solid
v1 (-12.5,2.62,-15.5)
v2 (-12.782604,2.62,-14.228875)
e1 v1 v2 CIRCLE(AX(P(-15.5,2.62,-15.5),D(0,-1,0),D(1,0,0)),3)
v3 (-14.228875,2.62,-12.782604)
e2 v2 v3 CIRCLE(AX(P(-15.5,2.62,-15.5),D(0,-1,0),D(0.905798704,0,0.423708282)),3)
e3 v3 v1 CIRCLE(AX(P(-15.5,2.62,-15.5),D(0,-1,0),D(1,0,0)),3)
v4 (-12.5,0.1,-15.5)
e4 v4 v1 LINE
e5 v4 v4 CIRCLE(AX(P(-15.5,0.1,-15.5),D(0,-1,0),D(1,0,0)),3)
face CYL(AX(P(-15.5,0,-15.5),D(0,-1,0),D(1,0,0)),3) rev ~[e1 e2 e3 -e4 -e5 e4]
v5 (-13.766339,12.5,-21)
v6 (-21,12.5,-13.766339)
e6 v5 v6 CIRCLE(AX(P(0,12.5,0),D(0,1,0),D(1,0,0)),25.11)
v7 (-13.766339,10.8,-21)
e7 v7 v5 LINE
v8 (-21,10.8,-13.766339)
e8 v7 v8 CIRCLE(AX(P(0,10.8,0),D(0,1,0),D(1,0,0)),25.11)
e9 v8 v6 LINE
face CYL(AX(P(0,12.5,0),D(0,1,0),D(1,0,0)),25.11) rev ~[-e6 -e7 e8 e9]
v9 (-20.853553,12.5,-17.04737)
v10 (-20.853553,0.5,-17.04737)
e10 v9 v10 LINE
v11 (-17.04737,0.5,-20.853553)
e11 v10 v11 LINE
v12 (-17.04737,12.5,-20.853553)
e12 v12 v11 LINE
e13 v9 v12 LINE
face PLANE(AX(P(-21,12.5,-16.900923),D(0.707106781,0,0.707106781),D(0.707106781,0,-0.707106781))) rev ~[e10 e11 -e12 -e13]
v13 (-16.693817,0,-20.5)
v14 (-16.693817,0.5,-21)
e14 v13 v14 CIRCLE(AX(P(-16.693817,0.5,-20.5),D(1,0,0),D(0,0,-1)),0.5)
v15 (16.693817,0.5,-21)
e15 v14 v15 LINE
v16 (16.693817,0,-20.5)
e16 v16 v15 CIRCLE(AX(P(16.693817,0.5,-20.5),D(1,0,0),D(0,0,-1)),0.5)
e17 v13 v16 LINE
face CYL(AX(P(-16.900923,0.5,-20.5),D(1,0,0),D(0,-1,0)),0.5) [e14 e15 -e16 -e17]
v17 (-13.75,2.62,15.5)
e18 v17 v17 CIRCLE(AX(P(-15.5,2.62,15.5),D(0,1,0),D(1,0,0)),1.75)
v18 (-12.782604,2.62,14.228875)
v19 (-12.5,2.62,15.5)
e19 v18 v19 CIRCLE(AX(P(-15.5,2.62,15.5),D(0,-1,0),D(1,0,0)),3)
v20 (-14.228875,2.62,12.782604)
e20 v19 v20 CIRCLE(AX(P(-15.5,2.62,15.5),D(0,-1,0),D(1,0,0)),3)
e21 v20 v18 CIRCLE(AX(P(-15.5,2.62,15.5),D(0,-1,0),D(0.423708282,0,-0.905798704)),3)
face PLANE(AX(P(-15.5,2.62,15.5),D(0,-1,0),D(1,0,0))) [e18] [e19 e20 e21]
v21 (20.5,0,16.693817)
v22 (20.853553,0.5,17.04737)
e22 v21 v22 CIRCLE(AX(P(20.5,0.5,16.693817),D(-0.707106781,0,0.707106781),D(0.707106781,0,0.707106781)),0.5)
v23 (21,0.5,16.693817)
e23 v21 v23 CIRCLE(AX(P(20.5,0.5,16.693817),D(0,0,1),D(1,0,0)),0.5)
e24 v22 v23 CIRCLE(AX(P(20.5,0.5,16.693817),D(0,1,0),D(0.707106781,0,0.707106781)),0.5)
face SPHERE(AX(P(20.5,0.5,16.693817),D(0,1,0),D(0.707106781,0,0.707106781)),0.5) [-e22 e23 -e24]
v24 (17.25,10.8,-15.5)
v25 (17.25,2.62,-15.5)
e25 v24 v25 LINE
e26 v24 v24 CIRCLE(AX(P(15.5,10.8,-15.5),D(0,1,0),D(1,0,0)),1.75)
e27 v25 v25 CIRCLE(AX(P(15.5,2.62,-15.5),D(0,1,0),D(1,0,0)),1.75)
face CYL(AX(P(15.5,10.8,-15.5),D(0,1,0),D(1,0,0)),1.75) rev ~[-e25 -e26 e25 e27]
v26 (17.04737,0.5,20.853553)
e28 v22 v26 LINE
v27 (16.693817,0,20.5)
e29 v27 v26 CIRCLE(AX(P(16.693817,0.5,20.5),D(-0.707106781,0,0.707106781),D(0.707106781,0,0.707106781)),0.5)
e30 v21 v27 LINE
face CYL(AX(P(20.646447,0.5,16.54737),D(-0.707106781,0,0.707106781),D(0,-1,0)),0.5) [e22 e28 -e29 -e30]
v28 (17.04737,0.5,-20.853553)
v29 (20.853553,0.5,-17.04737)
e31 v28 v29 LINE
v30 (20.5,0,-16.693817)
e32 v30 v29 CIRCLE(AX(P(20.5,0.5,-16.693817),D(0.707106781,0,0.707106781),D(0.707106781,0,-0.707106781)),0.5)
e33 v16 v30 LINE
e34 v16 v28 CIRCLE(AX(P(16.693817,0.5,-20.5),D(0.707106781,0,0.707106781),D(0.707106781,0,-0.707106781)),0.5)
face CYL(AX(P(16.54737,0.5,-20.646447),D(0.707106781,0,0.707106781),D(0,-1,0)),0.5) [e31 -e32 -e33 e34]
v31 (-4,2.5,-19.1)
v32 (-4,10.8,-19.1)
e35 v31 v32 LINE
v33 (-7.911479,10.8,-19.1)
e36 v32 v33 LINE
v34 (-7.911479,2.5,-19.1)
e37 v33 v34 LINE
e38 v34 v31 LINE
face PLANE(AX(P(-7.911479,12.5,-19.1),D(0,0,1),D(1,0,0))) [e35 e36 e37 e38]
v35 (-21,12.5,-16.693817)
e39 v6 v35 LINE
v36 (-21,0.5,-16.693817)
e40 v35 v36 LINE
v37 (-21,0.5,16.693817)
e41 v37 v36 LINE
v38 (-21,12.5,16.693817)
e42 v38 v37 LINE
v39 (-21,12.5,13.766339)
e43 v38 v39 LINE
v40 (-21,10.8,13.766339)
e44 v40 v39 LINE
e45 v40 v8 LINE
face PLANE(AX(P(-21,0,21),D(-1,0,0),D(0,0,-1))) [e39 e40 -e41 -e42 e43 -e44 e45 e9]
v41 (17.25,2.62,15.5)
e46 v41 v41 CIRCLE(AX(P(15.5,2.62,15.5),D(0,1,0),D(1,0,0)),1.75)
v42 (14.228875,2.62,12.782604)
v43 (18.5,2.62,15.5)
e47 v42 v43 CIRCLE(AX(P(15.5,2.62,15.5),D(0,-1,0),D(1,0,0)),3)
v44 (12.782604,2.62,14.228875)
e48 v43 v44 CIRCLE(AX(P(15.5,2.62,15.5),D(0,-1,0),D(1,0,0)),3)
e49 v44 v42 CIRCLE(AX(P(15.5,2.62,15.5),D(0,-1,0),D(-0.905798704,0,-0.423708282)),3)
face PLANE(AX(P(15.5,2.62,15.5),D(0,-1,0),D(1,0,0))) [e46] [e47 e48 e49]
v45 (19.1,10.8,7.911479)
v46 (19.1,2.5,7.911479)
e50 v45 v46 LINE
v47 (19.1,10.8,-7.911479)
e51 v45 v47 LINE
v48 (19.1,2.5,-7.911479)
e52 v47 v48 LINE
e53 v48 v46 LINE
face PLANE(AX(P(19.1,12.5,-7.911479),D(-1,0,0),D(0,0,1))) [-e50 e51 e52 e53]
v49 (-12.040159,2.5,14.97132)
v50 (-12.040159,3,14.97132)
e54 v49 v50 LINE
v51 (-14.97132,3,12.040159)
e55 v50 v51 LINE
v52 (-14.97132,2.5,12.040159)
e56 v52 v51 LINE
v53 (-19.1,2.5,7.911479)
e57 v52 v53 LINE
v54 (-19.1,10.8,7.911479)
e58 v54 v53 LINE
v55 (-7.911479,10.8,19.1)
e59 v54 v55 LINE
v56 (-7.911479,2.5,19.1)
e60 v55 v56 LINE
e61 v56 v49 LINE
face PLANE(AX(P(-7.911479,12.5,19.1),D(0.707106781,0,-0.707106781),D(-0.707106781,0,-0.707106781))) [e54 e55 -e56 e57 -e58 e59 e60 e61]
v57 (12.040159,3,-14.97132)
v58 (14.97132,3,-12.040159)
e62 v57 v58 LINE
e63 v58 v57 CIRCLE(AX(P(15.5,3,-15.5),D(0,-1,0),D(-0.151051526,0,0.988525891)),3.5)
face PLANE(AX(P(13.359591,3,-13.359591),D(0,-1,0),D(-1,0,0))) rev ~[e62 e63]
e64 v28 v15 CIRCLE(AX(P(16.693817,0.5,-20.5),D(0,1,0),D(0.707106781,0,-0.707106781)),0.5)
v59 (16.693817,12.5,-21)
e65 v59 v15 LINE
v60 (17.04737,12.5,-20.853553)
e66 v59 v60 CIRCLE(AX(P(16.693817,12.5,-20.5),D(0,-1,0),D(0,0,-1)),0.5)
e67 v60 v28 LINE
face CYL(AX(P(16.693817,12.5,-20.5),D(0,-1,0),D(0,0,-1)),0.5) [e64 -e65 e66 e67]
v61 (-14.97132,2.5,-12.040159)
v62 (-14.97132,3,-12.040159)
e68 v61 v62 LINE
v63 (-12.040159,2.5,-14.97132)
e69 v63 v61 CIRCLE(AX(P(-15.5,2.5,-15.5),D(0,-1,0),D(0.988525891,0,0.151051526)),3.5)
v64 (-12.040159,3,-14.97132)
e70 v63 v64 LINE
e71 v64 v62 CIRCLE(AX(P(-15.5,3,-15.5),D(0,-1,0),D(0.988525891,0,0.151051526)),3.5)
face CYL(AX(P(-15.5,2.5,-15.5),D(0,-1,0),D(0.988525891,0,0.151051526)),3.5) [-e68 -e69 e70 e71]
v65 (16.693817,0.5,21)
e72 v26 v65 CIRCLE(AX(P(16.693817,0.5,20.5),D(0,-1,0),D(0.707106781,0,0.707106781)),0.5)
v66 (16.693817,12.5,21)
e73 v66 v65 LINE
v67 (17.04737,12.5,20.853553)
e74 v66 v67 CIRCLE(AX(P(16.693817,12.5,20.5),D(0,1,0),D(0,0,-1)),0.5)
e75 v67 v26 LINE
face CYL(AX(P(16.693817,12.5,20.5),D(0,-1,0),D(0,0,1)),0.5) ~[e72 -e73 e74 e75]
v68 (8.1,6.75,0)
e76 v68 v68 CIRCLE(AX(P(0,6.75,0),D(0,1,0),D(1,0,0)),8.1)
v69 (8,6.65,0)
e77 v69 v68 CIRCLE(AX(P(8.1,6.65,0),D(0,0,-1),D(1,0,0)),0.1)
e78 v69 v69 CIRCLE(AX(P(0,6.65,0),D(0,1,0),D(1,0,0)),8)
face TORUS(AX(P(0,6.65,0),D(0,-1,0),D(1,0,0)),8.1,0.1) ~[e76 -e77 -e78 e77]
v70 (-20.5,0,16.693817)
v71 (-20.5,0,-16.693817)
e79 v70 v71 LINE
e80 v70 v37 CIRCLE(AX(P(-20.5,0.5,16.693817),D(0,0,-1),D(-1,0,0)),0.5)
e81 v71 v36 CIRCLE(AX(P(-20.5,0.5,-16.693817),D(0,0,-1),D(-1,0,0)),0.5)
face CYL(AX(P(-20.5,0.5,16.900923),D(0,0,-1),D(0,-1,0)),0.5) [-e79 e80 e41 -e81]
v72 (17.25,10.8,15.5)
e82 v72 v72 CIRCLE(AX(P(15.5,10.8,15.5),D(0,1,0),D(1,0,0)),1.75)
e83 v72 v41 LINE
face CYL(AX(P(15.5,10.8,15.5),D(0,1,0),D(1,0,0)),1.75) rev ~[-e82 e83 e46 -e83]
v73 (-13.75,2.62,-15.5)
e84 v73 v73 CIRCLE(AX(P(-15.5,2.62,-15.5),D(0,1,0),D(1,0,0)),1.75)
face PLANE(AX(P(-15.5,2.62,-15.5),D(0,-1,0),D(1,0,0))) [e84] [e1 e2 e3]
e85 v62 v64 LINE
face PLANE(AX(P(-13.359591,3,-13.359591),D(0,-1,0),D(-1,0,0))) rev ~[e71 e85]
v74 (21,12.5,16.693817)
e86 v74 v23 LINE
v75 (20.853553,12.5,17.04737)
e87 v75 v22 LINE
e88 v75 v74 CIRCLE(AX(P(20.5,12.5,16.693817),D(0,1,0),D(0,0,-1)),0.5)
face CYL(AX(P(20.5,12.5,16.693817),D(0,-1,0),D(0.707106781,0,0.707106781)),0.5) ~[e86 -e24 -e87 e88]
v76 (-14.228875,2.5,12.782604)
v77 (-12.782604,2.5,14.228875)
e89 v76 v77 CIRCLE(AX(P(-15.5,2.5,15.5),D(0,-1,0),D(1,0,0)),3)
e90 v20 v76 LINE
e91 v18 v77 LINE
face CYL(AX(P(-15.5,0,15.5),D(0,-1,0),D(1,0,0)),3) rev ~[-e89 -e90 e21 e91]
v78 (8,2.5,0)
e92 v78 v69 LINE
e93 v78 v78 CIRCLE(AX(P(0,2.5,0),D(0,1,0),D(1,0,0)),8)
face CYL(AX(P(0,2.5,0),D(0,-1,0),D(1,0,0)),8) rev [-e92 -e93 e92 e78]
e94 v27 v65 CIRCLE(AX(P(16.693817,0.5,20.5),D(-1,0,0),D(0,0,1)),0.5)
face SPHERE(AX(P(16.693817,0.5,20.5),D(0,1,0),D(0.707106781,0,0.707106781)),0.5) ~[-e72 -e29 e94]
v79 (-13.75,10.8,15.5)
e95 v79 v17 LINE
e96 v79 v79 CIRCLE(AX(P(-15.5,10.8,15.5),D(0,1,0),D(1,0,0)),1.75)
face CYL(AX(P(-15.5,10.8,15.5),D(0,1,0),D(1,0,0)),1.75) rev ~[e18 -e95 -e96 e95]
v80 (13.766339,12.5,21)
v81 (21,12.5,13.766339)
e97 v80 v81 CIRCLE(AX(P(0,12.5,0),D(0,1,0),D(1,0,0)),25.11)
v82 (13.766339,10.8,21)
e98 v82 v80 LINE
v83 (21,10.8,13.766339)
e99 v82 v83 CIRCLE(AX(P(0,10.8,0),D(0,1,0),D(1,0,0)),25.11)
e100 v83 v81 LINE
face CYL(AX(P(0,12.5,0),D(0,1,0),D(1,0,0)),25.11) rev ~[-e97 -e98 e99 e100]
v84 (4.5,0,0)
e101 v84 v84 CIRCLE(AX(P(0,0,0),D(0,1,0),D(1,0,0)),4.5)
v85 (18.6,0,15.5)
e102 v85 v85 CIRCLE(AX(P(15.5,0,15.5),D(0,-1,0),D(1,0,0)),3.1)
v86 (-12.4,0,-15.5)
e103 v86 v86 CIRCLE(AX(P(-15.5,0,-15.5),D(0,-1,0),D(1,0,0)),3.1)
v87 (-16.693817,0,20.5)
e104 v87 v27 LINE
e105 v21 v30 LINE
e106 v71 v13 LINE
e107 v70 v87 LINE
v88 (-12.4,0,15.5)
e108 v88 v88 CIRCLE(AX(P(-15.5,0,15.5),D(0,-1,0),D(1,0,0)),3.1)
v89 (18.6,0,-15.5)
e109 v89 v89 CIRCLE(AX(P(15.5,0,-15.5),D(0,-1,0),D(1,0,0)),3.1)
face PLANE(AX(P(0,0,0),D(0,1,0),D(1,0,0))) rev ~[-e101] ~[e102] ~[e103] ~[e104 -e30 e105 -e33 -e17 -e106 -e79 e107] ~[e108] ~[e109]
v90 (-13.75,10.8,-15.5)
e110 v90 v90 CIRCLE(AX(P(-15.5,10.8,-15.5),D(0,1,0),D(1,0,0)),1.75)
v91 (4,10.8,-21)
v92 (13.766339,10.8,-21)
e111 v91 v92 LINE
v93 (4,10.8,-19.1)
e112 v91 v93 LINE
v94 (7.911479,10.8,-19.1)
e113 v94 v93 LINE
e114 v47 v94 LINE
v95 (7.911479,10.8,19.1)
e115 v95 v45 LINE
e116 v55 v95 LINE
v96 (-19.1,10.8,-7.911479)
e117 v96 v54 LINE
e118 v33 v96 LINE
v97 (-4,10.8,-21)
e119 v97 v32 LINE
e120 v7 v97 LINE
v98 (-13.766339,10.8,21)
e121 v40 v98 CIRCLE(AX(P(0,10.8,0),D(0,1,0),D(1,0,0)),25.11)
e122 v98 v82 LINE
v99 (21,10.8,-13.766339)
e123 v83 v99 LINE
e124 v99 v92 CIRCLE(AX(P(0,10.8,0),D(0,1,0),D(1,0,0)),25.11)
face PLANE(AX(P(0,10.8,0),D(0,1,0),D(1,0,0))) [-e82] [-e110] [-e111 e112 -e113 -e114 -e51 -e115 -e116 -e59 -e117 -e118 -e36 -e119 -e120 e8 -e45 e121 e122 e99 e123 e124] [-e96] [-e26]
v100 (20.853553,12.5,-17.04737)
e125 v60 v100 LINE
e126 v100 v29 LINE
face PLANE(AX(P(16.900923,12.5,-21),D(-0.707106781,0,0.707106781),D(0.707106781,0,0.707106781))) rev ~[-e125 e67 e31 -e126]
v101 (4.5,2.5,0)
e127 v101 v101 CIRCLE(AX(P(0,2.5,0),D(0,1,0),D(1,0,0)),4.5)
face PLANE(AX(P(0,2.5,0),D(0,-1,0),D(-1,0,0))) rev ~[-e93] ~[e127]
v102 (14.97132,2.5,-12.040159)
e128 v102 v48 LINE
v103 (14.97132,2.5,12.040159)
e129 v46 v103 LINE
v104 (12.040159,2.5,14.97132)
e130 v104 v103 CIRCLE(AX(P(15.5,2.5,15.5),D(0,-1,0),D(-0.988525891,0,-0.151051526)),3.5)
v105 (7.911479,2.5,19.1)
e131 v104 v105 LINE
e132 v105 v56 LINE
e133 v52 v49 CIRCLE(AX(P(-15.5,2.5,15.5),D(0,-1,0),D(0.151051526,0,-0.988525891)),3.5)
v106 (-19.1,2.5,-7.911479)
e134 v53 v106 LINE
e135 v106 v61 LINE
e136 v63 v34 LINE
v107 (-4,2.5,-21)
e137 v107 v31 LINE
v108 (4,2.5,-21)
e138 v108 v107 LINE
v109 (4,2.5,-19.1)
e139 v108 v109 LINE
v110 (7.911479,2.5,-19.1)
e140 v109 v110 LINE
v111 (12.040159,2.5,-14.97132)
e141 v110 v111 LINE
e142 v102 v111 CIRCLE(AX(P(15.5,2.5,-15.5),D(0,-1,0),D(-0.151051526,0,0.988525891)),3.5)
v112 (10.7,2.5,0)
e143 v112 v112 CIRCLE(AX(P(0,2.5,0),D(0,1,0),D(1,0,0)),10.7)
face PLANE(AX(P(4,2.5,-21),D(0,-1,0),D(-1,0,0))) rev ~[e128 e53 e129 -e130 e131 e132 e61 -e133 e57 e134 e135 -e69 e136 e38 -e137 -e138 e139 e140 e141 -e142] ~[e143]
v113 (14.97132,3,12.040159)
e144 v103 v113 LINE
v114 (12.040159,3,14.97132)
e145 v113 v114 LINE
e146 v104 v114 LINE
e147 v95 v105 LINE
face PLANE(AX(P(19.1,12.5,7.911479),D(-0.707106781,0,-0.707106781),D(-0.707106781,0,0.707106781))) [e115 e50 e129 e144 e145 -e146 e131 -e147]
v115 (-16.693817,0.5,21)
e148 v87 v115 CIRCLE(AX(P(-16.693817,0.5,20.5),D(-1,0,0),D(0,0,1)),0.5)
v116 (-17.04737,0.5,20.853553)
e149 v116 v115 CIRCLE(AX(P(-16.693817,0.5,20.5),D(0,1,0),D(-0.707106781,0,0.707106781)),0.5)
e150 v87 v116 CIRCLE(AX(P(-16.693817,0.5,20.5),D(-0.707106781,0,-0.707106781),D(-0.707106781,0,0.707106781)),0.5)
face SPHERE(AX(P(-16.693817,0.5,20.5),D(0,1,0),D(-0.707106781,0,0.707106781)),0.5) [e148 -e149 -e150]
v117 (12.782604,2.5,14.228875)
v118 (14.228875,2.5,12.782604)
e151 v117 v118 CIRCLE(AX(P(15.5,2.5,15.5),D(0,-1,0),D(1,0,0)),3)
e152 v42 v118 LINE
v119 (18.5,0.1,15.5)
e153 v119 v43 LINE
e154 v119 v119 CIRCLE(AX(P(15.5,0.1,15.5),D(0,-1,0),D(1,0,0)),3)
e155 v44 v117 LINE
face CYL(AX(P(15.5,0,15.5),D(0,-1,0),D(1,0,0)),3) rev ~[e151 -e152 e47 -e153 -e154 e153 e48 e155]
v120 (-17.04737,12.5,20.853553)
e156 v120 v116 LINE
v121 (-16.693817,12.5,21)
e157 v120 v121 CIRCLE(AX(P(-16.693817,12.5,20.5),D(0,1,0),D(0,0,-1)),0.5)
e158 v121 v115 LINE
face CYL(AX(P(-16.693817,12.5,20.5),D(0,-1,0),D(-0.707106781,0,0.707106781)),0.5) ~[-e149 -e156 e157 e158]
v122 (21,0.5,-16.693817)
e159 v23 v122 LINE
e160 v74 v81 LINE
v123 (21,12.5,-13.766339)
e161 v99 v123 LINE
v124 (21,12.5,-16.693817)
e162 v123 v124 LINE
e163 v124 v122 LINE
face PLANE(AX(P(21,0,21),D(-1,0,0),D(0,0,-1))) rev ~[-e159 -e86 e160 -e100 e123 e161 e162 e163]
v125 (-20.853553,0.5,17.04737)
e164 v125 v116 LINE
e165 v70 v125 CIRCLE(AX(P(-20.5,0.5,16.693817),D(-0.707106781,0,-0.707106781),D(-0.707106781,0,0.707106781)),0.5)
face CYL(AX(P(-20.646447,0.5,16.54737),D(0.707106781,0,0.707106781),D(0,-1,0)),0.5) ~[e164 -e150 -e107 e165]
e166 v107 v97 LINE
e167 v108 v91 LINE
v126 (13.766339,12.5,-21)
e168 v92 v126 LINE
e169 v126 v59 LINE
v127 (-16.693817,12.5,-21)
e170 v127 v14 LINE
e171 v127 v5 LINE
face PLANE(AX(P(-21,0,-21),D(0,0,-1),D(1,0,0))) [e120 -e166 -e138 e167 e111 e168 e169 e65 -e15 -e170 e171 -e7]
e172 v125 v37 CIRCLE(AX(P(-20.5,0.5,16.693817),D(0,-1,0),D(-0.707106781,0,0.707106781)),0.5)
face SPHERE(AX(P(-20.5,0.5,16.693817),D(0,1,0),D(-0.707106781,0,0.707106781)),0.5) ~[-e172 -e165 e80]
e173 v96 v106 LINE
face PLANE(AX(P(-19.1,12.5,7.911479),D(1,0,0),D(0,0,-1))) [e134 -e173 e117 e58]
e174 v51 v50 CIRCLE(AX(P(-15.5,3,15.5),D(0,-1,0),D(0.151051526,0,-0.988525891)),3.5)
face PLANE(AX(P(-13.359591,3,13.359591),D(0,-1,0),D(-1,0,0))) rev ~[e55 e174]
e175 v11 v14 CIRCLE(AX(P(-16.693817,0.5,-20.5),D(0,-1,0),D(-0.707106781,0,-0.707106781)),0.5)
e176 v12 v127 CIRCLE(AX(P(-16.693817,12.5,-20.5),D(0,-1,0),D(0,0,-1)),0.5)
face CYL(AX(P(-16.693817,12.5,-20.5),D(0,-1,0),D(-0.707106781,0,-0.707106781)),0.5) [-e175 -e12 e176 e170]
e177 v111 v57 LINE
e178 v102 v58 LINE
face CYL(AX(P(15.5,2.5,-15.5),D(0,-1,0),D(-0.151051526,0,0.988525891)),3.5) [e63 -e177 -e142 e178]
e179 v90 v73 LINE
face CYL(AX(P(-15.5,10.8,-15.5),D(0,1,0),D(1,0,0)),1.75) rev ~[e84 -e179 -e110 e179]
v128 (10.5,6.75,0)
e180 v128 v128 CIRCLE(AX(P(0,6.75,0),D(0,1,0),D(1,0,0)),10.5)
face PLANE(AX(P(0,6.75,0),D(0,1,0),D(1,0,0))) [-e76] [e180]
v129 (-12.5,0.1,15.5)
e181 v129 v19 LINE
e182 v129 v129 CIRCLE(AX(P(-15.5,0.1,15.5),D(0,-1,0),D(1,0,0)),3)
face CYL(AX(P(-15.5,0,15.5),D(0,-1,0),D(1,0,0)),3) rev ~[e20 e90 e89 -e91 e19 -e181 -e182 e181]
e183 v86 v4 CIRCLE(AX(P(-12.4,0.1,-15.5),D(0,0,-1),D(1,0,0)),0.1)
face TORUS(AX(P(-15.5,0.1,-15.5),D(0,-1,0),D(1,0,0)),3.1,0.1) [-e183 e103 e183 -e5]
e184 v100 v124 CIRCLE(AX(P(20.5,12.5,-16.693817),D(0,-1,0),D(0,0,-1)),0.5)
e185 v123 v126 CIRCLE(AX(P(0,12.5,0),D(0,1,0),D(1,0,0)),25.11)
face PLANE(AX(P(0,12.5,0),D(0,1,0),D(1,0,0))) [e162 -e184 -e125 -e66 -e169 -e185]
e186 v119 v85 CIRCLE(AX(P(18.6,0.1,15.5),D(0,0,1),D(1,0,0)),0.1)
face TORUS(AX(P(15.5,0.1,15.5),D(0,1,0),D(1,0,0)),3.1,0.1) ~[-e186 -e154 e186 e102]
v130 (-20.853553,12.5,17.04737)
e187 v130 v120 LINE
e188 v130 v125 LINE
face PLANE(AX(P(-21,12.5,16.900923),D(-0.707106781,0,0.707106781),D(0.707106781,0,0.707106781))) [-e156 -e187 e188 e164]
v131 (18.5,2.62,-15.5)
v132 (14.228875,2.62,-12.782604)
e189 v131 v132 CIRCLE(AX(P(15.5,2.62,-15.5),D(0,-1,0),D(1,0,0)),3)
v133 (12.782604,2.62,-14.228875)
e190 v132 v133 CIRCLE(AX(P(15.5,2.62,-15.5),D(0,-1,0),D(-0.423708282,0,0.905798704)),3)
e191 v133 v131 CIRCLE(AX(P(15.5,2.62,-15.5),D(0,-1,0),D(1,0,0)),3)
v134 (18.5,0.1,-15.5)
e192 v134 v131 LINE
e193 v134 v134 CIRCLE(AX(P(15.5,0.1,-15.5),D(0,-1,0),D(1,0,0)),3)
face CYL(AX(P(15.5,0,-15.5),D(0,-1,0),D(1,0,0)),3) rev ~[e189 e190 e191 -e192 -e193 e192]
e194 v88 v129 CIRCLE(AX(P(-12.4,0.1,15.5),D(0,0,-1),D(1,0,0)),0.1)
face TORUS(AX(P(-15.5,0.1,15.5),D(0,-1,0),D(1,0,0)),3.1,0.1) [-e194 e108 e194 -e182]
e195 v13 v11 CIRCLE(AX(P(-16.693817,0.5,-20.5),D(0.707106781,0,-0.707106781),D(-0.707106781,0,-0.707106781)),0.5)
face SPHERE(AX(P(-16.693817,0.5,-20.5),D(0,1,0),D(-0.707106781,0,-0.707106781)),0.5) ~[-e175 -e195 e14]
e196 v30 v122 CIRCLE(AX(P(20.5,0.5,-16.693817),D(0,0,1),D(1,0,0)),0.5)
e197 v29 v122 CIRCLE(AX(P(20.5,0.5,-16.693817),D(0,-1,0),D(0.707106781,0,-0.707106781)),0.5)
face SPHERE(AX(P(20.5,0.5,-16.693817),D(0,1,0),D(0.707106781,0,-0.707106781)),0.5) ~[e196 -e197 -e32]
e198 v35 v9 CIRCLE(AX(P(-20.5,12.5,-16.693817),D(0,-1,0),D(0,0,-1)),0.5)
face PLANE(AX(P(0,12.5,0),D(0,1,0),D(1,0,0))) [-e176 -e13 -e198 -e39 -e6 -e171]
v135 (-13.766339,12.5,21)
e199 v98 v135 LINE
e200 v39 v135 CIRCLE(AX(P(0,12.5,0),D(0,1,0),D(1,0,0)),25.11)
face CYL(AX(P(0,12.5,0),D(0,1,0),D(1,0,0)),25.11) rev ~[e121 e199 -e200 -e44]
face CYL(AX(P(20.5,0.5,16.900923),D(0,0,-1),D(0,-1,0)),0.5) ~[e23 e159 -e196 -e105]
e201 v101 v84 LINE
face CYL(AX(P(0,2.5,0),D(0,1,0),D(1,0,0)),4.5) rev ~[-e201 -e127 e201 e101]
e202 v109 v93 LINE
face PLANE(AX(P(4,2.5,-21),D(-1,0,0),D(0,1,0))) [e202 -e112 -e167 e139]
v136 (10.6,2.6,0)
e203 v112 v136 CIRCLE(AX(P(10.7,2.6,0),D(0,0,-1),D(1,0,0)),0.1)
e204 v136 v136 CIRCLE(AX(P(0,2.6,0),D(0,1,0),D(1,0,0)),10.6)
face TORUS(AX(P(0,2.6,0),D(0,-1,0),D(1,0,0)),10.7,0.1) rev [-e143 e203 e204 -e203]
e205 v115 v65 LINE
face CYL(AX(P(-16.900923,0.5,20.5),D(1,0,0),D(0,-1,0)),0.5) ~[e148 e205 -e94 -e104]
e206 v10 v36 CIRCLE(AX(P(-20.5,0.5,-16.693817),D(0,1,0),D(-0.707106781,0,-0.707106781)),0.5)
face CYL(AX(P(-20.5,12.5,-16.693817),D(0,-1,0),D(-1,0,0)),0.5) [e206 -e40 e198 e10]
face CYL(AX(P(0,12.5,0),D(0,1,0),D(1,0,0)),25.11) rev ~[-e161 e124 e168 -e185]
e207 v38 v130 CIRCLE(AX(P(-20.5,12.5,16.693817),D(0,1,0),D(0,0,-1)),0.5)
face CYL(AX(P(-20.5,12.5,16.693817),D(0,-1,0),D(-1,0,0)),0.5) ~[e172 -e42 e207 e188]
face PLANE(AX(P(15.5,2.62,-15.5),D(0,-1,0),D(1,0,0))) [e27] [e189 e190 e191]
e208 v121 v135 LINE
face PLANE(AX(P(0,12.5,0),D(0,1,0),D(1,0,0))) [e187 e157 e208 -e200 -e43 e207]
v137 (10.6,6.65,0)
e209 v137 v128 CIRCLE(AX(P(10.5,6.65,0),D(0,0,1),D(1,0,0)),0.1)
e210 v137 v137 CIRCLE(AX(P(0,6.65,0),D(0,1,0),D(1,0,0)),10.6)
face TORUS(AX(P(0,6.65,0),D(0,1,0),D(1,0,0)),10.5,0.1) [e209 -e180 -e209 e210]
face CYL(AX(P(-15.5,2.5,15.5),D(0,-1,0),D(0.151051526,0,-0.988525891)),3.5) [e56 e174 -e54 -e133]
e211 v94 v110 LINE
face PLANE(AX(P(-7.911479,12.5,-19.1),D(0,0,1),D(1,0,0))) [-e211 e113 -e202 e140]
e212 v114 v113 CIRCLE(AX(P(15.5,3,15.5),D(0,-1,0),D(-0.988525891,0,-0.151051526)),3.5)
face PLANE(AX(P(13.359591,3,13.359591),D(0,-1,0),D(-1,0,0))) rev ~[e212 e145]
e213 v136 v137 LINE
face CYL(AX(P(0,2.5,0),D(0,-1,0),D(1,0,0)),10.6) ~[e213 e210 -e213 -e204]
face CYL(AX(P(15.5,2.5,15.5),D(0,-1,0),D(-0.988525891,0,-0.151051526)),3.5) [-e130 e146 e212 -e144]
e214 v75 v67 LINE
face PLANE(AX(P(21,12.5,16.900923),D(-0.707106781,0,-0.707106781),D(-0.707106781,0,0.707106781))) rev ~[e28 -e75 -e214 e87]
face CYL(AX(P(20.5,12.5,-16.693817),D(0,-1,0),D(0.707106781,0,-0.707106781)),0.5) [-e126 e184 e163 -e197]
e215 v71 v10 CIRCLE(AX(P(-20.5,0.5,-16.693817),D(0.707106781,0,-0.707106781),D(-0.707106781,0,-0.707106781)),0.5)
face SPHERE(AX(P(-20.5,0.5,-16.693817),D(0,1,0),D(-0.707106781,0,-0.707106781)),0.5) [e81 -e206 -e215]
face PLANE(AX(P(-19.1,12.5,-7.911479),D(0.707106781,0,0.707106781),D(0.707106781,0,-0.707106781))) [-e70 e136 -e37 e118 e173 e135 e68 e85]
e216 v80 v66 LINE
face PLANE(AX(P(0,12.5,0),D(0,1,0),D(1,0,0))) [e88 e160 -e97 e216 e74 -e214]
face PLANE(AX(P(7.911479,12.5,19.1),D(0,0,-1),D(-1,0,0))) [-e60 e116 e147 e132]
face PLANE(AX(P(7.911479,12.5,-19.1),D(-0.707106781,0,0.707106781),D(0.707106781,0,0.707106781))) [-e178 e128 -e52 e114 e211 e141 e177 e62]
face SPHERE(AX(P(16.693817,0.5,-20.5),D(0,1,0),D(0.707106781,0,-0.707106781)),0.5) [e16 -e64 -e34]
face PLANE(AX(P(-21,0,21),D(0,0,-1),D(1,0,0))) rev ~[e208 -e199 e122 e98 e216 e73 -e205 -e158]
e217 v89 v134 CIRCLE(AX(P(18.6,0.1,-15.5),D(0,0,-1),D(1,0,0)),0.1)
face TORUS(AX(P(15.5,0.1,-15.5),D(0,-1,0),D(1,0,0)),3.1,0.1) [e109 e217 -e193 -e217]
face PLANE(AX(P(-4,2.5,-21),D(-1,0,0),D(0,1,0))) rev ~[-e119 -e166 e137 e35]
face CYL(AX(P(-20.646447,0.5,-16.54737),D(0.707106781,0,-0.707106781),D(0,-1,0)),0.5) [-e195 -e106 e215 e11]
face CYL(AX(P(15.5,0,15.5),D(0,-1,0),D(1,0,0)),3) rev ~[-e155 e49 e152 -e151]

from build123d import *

# Parameters (mm, degrees)
SKETCH_1_W          = 42
SKETCH_1_H          = 42
EXTRUDE_1_DEPTH     = 12.5
CUT_EXTRUDE_1_DEPTH = 12.5
CUT_EXTRUDE_2_DEPTH = 10
SKETCH_4_R          = 25.11
CUT_EXTRUDE_3_DEPTH = 1.7
SKETCH_5_R          = 10.6
SKETCH_5_R_2        = 8
EXTRUDE_2_DEPTH     = 4.25
SKETCH_6_R          = 4.5
CUT_EXTRUDE_4_DEPTH = 2.5
SKETCH_8_R          = 1.75
CUT_EXTRUDE_5_DEPTH = 10.8
SKETCH_9_R          = 3
CUT_EXTRUDE_6_DEPTH = 2.62
EXTRUDE_3_DEPTH     = 0.5
CUT_EXTRUDE_7_DEPTH = 0.12
SKETCH_13_W         = 8
SKETCH_13_H         = 8.3
CUT_EXTRUDE_8_DEPTH = 1.9
FILLET_1_R          = 0.1
FILLET_2_R          = 0.5


with BuildPart() as part:
    # Эскиз1 → Бобышка-Вытянуть1 (new body)
    with BuildSketch(Plane(origin=(0, 0, 0), x_dir=(1, 0, 0), z_dir=(0, 1, 0))):
        Rectangle(SKETCH_1_W, SKETCH_1_H)
    extrude(amount=EXTRUDE_1_DEPTH)

    # Эскиз2 → Вырез-Вытянуть1 (cut)
    with BuildSketch(Plane(origin=(0, 12.5, 0), x_dir=(1, 0, 0), z_dir=(0, 1, 0))):
        Polygon((-21, 21), (-21, 16.900923472), (-16.900923472, 21), align=None)
        Polygon((21, 21), (16.900923472, 21), (21, 16.900923472), align=None)
        Polygon((-21, -21), (-21, -16.900923472), (-16.900923472, -21), align=None)
        Polygon((21, -21), (21, -16.900923472), (16.900923472, -21), align=None)
    extrude(amount=-CUT_EXTRUDE_1_DEPTH, mode=Mode.SUBTRACT)

    # Эскиз3 → Вырез-Вытянуть2 (cut)
    with BuildSketch(Plane(origin=(0, 12.5, 0), x_dir=(1, 0, 0), z_dir=(0, 1, 0))):
        Polygon((-7.911479041, 19.1), (7.911479041, 19.1), (19.1, 7.911479041), (19.1, -7.911479041), (7.911479041, -19.1), (-7.911479041, -19.1), (-19.1, -7.911479041), (-19.1, 7.911479041), align=None)
    extrude(amount=-CUT_EXTRUDE_2_DEPTH, mode=Mode.SUBTRACT)

    # Эскиз4 → Вырез-Вытянуть3 (cut)
    with BuildSketch(Plane(origin=(0, 12.5, 0), x_dir=(1, 0, 0), z_dir=(0, 1, 0))):
        Circle(SKETCH_4_R)
    extrude(amount=-CUT_EXTRUDE_3_DEPTH, mode=Mode.SUBTRACT)

    # Эскиз5 → Бобышка-Вытянуть2 (add)
    with BuildSketch(Plane(origin=(0, 2.5, 0), x_dir=(1, 0, 0), z_dir=(0, 1, 0))):
        Circle(SKETCH_5_R)
        Circle(SKETCH_5_R_2, mode=Mode.SUBTRACT)
    extrude(amount=EXTRUDE_2_DEPTH)

    # Эскиз6 → Вырез-Вытянуть4 (cut)
    with BuildSketch(Plane(origin=(0, 2.5, 0), x_dir=(1, 0, 0), z_dir=(0, 1, 0))):
        Circle(SKETCH_6_R)
    extrude(amount=-CUT_EXTRUDE_4_DEPTH, mode=Mode.SUBTRACT)

    # Эскиз8 → Вырез-Вытянуть5 (cut)
    with BuildSketch(Plane(origin=(0, 10.8, 0), x_dir=(1, 0, 0), z_dir=(0, 1, 0))):
        with Locations((-15.5, 15.5)):
            Circle(SKETCH_8_R)
        with Locations((15.5, 15.5)):
            Circle(SKETCH_8_R)
        with Locations((-15.5, -15.5)):
            Circle(SKETCH_8_R)
        with Locations((15.5, -15.5)):
            Circle(SKETCH_8_R)
    extrude(amount=-CUT_EXTRUDE_5_DEPTH, mode=Mode.SUBTRACT)

    # Эскиз9 → Вырез-Вытянуть6 (cut)
    with BuildSketch(Plane.XZ):
        with Locations((-15.5, 15.5)):
            Circle(SKETCH_9_R)
        with Locations((15.5, 15.5)):
            Circle(SKETCH_9_R)
        with Locations((15.5, -15.5)):
            Circle(SKETCH_9_R)
        with Locations((-15.5, -15.5)):
            Circle(SKETCH_9_R)
    extrude(amount=-CUT_EXTRUDE_6_DEPTH, mode=Mode.SUBTRACT)

    # Эскиз11 → Бобышка-Вытянуть3 (add)
    with BuildSketch(Plane(origin=(0, 2.5, 0), x_dir=(1, 0, 0), z_dir=(0, 1, 0))):
        with BuildLine():
            Line((14.971319659, -12.040159383), (12.040159383, -14.971319659))
            ThreePointArc((12.040159383, -14.971319659), (13.025126266, -13.025126266), (14.971319659, -12.040159383))
        make_face()
        with BuildLine():
            Line((-12.040159383, -14.971319659), (-14.971319659, -12.040159383))
            ThreePointArc((-14.971319659, -12.040159383), (-13.025126266, -13.025126266), (-12.040159383, -14.971319659))
        make_face()
        with BuildLine():
            Line((-14.971319659, 12.040159383), (-12.040159383, 14.971319659))
            ThreePointArc((-12.040159383, 14.971319659), (-13.025126266, 13.025126266), (-14.971319659, 12.040159383))
        make_face()
        with BuildLine():
            Line((12.040159383, 14.971319659), (14.971319659, 12.040159383))
            ThreePointArc((14.971319659, 12.040159383), (13.025126266, 13.025126266), (12.040159383, 14.971319659))
        make_face()
    extrude(amount=EXTRUDE_3_DEPTH)

    # Эскиз12 → Вырез-Вытянуть7 (cut)
    with BuildSketch(Plane.XZ.offset(-2.5)):
        with BuildLine():
            Line((-14.228875151, -12.78260389), (-12.78260389, -14.228875151))
            ThreePointArc((-12.78260389, -14.228875151), (-13.378679656, -13.378679656), (-14.228875151, -12.78260389))
        make_face()
        with BuildLine():
            Line((-12.78260389, 14.228875151), (-14.228875151, 12.78260389))
            ThreePointArc((-14.228875151, 12.78260389), (-13.378679656, 13.378679656), (-12.78260389, 14.228875151))
        make_face()
        with BuildLine():
            Line((14.228875151, 12.78260389), (12.78260389, 14.228875151))
            ThreePointArc((12.78260389, 14.228875151), (13.378679656, 13.378679656), (14.228875151, 12.78260389))
        make_face()
        with BuildLine():
            Line((12.78260389, -14.228875151), (14.228875151, -12.78260389))
            ThreePointArc((14.228875151, -12.78260389), (13.378679656, -13.378679656), (12.78260389, -14.228875151))
        make_face()
    extrude(amount=-CUT_EXTRUDE_7_DEPTH, mode=Mode.SUBTRACT)

    # Эскиз13 → Вырез-Вытянуть8 (cut)
    with BuildSketch(Plane(origin=(0, 0, -21), x_dir=(-1, 0, 0), z_dir=(0, 0, -1))):
        with Locations((0, 6.65)):
            Rectangle(SKETCH_13_W, SKETCH_13_H)
    extrude(amount=-CUT_EXTRUDE_8_DEPTH, mode=Mode.SUBTRACT)

    # Скругление1
    fillet_1_edges = [part.edges().sort_by_distance(p)[0] for p in [
        (-10.6, 2.5, 0),
        (-10.6, 6.75, 0),
        (-8, 6.75, 0),
        (-18.5, 0, 15.5),
        (12.5, 0, 15.5),
        (12.5, 0, -15.5),
        (-18.5, 0, -15.5),
    ]]
    fillet(fillet_1_edges, radius=FILLET_1_R)

    # Скругление2
    fillet_2_edges = [part.edges().sort_by_distance(p)[0] for p in [
        (-21, 0, 0),
        (-16.900923472, 6.25, -21),
        (-21, 6.25, -16.900923472),
        (-18.950461736, 0, -18.950461736),
        (0, 0, -21),
        (21, 6.25, -16.900923472),
        (16.900923472, 6.25, -21),
        (18.950461736, 0, -18.950461736),
        (0, 0, 21),
        (-16.900923472, 6.25, 21),
        (-21, 6.25, 16.900923472),
        (-18.950461736, 0, 18.950461736),
        (21, 0, 0),
        (16.900923472, 6.25, 21),
        (21, 6.25, 16.900923472),
        (18.950461736, 0, 18.950461736),
    ]]
    fillet(fillet_2_edges, radius=FILLET_2_R)


solid = part.part
